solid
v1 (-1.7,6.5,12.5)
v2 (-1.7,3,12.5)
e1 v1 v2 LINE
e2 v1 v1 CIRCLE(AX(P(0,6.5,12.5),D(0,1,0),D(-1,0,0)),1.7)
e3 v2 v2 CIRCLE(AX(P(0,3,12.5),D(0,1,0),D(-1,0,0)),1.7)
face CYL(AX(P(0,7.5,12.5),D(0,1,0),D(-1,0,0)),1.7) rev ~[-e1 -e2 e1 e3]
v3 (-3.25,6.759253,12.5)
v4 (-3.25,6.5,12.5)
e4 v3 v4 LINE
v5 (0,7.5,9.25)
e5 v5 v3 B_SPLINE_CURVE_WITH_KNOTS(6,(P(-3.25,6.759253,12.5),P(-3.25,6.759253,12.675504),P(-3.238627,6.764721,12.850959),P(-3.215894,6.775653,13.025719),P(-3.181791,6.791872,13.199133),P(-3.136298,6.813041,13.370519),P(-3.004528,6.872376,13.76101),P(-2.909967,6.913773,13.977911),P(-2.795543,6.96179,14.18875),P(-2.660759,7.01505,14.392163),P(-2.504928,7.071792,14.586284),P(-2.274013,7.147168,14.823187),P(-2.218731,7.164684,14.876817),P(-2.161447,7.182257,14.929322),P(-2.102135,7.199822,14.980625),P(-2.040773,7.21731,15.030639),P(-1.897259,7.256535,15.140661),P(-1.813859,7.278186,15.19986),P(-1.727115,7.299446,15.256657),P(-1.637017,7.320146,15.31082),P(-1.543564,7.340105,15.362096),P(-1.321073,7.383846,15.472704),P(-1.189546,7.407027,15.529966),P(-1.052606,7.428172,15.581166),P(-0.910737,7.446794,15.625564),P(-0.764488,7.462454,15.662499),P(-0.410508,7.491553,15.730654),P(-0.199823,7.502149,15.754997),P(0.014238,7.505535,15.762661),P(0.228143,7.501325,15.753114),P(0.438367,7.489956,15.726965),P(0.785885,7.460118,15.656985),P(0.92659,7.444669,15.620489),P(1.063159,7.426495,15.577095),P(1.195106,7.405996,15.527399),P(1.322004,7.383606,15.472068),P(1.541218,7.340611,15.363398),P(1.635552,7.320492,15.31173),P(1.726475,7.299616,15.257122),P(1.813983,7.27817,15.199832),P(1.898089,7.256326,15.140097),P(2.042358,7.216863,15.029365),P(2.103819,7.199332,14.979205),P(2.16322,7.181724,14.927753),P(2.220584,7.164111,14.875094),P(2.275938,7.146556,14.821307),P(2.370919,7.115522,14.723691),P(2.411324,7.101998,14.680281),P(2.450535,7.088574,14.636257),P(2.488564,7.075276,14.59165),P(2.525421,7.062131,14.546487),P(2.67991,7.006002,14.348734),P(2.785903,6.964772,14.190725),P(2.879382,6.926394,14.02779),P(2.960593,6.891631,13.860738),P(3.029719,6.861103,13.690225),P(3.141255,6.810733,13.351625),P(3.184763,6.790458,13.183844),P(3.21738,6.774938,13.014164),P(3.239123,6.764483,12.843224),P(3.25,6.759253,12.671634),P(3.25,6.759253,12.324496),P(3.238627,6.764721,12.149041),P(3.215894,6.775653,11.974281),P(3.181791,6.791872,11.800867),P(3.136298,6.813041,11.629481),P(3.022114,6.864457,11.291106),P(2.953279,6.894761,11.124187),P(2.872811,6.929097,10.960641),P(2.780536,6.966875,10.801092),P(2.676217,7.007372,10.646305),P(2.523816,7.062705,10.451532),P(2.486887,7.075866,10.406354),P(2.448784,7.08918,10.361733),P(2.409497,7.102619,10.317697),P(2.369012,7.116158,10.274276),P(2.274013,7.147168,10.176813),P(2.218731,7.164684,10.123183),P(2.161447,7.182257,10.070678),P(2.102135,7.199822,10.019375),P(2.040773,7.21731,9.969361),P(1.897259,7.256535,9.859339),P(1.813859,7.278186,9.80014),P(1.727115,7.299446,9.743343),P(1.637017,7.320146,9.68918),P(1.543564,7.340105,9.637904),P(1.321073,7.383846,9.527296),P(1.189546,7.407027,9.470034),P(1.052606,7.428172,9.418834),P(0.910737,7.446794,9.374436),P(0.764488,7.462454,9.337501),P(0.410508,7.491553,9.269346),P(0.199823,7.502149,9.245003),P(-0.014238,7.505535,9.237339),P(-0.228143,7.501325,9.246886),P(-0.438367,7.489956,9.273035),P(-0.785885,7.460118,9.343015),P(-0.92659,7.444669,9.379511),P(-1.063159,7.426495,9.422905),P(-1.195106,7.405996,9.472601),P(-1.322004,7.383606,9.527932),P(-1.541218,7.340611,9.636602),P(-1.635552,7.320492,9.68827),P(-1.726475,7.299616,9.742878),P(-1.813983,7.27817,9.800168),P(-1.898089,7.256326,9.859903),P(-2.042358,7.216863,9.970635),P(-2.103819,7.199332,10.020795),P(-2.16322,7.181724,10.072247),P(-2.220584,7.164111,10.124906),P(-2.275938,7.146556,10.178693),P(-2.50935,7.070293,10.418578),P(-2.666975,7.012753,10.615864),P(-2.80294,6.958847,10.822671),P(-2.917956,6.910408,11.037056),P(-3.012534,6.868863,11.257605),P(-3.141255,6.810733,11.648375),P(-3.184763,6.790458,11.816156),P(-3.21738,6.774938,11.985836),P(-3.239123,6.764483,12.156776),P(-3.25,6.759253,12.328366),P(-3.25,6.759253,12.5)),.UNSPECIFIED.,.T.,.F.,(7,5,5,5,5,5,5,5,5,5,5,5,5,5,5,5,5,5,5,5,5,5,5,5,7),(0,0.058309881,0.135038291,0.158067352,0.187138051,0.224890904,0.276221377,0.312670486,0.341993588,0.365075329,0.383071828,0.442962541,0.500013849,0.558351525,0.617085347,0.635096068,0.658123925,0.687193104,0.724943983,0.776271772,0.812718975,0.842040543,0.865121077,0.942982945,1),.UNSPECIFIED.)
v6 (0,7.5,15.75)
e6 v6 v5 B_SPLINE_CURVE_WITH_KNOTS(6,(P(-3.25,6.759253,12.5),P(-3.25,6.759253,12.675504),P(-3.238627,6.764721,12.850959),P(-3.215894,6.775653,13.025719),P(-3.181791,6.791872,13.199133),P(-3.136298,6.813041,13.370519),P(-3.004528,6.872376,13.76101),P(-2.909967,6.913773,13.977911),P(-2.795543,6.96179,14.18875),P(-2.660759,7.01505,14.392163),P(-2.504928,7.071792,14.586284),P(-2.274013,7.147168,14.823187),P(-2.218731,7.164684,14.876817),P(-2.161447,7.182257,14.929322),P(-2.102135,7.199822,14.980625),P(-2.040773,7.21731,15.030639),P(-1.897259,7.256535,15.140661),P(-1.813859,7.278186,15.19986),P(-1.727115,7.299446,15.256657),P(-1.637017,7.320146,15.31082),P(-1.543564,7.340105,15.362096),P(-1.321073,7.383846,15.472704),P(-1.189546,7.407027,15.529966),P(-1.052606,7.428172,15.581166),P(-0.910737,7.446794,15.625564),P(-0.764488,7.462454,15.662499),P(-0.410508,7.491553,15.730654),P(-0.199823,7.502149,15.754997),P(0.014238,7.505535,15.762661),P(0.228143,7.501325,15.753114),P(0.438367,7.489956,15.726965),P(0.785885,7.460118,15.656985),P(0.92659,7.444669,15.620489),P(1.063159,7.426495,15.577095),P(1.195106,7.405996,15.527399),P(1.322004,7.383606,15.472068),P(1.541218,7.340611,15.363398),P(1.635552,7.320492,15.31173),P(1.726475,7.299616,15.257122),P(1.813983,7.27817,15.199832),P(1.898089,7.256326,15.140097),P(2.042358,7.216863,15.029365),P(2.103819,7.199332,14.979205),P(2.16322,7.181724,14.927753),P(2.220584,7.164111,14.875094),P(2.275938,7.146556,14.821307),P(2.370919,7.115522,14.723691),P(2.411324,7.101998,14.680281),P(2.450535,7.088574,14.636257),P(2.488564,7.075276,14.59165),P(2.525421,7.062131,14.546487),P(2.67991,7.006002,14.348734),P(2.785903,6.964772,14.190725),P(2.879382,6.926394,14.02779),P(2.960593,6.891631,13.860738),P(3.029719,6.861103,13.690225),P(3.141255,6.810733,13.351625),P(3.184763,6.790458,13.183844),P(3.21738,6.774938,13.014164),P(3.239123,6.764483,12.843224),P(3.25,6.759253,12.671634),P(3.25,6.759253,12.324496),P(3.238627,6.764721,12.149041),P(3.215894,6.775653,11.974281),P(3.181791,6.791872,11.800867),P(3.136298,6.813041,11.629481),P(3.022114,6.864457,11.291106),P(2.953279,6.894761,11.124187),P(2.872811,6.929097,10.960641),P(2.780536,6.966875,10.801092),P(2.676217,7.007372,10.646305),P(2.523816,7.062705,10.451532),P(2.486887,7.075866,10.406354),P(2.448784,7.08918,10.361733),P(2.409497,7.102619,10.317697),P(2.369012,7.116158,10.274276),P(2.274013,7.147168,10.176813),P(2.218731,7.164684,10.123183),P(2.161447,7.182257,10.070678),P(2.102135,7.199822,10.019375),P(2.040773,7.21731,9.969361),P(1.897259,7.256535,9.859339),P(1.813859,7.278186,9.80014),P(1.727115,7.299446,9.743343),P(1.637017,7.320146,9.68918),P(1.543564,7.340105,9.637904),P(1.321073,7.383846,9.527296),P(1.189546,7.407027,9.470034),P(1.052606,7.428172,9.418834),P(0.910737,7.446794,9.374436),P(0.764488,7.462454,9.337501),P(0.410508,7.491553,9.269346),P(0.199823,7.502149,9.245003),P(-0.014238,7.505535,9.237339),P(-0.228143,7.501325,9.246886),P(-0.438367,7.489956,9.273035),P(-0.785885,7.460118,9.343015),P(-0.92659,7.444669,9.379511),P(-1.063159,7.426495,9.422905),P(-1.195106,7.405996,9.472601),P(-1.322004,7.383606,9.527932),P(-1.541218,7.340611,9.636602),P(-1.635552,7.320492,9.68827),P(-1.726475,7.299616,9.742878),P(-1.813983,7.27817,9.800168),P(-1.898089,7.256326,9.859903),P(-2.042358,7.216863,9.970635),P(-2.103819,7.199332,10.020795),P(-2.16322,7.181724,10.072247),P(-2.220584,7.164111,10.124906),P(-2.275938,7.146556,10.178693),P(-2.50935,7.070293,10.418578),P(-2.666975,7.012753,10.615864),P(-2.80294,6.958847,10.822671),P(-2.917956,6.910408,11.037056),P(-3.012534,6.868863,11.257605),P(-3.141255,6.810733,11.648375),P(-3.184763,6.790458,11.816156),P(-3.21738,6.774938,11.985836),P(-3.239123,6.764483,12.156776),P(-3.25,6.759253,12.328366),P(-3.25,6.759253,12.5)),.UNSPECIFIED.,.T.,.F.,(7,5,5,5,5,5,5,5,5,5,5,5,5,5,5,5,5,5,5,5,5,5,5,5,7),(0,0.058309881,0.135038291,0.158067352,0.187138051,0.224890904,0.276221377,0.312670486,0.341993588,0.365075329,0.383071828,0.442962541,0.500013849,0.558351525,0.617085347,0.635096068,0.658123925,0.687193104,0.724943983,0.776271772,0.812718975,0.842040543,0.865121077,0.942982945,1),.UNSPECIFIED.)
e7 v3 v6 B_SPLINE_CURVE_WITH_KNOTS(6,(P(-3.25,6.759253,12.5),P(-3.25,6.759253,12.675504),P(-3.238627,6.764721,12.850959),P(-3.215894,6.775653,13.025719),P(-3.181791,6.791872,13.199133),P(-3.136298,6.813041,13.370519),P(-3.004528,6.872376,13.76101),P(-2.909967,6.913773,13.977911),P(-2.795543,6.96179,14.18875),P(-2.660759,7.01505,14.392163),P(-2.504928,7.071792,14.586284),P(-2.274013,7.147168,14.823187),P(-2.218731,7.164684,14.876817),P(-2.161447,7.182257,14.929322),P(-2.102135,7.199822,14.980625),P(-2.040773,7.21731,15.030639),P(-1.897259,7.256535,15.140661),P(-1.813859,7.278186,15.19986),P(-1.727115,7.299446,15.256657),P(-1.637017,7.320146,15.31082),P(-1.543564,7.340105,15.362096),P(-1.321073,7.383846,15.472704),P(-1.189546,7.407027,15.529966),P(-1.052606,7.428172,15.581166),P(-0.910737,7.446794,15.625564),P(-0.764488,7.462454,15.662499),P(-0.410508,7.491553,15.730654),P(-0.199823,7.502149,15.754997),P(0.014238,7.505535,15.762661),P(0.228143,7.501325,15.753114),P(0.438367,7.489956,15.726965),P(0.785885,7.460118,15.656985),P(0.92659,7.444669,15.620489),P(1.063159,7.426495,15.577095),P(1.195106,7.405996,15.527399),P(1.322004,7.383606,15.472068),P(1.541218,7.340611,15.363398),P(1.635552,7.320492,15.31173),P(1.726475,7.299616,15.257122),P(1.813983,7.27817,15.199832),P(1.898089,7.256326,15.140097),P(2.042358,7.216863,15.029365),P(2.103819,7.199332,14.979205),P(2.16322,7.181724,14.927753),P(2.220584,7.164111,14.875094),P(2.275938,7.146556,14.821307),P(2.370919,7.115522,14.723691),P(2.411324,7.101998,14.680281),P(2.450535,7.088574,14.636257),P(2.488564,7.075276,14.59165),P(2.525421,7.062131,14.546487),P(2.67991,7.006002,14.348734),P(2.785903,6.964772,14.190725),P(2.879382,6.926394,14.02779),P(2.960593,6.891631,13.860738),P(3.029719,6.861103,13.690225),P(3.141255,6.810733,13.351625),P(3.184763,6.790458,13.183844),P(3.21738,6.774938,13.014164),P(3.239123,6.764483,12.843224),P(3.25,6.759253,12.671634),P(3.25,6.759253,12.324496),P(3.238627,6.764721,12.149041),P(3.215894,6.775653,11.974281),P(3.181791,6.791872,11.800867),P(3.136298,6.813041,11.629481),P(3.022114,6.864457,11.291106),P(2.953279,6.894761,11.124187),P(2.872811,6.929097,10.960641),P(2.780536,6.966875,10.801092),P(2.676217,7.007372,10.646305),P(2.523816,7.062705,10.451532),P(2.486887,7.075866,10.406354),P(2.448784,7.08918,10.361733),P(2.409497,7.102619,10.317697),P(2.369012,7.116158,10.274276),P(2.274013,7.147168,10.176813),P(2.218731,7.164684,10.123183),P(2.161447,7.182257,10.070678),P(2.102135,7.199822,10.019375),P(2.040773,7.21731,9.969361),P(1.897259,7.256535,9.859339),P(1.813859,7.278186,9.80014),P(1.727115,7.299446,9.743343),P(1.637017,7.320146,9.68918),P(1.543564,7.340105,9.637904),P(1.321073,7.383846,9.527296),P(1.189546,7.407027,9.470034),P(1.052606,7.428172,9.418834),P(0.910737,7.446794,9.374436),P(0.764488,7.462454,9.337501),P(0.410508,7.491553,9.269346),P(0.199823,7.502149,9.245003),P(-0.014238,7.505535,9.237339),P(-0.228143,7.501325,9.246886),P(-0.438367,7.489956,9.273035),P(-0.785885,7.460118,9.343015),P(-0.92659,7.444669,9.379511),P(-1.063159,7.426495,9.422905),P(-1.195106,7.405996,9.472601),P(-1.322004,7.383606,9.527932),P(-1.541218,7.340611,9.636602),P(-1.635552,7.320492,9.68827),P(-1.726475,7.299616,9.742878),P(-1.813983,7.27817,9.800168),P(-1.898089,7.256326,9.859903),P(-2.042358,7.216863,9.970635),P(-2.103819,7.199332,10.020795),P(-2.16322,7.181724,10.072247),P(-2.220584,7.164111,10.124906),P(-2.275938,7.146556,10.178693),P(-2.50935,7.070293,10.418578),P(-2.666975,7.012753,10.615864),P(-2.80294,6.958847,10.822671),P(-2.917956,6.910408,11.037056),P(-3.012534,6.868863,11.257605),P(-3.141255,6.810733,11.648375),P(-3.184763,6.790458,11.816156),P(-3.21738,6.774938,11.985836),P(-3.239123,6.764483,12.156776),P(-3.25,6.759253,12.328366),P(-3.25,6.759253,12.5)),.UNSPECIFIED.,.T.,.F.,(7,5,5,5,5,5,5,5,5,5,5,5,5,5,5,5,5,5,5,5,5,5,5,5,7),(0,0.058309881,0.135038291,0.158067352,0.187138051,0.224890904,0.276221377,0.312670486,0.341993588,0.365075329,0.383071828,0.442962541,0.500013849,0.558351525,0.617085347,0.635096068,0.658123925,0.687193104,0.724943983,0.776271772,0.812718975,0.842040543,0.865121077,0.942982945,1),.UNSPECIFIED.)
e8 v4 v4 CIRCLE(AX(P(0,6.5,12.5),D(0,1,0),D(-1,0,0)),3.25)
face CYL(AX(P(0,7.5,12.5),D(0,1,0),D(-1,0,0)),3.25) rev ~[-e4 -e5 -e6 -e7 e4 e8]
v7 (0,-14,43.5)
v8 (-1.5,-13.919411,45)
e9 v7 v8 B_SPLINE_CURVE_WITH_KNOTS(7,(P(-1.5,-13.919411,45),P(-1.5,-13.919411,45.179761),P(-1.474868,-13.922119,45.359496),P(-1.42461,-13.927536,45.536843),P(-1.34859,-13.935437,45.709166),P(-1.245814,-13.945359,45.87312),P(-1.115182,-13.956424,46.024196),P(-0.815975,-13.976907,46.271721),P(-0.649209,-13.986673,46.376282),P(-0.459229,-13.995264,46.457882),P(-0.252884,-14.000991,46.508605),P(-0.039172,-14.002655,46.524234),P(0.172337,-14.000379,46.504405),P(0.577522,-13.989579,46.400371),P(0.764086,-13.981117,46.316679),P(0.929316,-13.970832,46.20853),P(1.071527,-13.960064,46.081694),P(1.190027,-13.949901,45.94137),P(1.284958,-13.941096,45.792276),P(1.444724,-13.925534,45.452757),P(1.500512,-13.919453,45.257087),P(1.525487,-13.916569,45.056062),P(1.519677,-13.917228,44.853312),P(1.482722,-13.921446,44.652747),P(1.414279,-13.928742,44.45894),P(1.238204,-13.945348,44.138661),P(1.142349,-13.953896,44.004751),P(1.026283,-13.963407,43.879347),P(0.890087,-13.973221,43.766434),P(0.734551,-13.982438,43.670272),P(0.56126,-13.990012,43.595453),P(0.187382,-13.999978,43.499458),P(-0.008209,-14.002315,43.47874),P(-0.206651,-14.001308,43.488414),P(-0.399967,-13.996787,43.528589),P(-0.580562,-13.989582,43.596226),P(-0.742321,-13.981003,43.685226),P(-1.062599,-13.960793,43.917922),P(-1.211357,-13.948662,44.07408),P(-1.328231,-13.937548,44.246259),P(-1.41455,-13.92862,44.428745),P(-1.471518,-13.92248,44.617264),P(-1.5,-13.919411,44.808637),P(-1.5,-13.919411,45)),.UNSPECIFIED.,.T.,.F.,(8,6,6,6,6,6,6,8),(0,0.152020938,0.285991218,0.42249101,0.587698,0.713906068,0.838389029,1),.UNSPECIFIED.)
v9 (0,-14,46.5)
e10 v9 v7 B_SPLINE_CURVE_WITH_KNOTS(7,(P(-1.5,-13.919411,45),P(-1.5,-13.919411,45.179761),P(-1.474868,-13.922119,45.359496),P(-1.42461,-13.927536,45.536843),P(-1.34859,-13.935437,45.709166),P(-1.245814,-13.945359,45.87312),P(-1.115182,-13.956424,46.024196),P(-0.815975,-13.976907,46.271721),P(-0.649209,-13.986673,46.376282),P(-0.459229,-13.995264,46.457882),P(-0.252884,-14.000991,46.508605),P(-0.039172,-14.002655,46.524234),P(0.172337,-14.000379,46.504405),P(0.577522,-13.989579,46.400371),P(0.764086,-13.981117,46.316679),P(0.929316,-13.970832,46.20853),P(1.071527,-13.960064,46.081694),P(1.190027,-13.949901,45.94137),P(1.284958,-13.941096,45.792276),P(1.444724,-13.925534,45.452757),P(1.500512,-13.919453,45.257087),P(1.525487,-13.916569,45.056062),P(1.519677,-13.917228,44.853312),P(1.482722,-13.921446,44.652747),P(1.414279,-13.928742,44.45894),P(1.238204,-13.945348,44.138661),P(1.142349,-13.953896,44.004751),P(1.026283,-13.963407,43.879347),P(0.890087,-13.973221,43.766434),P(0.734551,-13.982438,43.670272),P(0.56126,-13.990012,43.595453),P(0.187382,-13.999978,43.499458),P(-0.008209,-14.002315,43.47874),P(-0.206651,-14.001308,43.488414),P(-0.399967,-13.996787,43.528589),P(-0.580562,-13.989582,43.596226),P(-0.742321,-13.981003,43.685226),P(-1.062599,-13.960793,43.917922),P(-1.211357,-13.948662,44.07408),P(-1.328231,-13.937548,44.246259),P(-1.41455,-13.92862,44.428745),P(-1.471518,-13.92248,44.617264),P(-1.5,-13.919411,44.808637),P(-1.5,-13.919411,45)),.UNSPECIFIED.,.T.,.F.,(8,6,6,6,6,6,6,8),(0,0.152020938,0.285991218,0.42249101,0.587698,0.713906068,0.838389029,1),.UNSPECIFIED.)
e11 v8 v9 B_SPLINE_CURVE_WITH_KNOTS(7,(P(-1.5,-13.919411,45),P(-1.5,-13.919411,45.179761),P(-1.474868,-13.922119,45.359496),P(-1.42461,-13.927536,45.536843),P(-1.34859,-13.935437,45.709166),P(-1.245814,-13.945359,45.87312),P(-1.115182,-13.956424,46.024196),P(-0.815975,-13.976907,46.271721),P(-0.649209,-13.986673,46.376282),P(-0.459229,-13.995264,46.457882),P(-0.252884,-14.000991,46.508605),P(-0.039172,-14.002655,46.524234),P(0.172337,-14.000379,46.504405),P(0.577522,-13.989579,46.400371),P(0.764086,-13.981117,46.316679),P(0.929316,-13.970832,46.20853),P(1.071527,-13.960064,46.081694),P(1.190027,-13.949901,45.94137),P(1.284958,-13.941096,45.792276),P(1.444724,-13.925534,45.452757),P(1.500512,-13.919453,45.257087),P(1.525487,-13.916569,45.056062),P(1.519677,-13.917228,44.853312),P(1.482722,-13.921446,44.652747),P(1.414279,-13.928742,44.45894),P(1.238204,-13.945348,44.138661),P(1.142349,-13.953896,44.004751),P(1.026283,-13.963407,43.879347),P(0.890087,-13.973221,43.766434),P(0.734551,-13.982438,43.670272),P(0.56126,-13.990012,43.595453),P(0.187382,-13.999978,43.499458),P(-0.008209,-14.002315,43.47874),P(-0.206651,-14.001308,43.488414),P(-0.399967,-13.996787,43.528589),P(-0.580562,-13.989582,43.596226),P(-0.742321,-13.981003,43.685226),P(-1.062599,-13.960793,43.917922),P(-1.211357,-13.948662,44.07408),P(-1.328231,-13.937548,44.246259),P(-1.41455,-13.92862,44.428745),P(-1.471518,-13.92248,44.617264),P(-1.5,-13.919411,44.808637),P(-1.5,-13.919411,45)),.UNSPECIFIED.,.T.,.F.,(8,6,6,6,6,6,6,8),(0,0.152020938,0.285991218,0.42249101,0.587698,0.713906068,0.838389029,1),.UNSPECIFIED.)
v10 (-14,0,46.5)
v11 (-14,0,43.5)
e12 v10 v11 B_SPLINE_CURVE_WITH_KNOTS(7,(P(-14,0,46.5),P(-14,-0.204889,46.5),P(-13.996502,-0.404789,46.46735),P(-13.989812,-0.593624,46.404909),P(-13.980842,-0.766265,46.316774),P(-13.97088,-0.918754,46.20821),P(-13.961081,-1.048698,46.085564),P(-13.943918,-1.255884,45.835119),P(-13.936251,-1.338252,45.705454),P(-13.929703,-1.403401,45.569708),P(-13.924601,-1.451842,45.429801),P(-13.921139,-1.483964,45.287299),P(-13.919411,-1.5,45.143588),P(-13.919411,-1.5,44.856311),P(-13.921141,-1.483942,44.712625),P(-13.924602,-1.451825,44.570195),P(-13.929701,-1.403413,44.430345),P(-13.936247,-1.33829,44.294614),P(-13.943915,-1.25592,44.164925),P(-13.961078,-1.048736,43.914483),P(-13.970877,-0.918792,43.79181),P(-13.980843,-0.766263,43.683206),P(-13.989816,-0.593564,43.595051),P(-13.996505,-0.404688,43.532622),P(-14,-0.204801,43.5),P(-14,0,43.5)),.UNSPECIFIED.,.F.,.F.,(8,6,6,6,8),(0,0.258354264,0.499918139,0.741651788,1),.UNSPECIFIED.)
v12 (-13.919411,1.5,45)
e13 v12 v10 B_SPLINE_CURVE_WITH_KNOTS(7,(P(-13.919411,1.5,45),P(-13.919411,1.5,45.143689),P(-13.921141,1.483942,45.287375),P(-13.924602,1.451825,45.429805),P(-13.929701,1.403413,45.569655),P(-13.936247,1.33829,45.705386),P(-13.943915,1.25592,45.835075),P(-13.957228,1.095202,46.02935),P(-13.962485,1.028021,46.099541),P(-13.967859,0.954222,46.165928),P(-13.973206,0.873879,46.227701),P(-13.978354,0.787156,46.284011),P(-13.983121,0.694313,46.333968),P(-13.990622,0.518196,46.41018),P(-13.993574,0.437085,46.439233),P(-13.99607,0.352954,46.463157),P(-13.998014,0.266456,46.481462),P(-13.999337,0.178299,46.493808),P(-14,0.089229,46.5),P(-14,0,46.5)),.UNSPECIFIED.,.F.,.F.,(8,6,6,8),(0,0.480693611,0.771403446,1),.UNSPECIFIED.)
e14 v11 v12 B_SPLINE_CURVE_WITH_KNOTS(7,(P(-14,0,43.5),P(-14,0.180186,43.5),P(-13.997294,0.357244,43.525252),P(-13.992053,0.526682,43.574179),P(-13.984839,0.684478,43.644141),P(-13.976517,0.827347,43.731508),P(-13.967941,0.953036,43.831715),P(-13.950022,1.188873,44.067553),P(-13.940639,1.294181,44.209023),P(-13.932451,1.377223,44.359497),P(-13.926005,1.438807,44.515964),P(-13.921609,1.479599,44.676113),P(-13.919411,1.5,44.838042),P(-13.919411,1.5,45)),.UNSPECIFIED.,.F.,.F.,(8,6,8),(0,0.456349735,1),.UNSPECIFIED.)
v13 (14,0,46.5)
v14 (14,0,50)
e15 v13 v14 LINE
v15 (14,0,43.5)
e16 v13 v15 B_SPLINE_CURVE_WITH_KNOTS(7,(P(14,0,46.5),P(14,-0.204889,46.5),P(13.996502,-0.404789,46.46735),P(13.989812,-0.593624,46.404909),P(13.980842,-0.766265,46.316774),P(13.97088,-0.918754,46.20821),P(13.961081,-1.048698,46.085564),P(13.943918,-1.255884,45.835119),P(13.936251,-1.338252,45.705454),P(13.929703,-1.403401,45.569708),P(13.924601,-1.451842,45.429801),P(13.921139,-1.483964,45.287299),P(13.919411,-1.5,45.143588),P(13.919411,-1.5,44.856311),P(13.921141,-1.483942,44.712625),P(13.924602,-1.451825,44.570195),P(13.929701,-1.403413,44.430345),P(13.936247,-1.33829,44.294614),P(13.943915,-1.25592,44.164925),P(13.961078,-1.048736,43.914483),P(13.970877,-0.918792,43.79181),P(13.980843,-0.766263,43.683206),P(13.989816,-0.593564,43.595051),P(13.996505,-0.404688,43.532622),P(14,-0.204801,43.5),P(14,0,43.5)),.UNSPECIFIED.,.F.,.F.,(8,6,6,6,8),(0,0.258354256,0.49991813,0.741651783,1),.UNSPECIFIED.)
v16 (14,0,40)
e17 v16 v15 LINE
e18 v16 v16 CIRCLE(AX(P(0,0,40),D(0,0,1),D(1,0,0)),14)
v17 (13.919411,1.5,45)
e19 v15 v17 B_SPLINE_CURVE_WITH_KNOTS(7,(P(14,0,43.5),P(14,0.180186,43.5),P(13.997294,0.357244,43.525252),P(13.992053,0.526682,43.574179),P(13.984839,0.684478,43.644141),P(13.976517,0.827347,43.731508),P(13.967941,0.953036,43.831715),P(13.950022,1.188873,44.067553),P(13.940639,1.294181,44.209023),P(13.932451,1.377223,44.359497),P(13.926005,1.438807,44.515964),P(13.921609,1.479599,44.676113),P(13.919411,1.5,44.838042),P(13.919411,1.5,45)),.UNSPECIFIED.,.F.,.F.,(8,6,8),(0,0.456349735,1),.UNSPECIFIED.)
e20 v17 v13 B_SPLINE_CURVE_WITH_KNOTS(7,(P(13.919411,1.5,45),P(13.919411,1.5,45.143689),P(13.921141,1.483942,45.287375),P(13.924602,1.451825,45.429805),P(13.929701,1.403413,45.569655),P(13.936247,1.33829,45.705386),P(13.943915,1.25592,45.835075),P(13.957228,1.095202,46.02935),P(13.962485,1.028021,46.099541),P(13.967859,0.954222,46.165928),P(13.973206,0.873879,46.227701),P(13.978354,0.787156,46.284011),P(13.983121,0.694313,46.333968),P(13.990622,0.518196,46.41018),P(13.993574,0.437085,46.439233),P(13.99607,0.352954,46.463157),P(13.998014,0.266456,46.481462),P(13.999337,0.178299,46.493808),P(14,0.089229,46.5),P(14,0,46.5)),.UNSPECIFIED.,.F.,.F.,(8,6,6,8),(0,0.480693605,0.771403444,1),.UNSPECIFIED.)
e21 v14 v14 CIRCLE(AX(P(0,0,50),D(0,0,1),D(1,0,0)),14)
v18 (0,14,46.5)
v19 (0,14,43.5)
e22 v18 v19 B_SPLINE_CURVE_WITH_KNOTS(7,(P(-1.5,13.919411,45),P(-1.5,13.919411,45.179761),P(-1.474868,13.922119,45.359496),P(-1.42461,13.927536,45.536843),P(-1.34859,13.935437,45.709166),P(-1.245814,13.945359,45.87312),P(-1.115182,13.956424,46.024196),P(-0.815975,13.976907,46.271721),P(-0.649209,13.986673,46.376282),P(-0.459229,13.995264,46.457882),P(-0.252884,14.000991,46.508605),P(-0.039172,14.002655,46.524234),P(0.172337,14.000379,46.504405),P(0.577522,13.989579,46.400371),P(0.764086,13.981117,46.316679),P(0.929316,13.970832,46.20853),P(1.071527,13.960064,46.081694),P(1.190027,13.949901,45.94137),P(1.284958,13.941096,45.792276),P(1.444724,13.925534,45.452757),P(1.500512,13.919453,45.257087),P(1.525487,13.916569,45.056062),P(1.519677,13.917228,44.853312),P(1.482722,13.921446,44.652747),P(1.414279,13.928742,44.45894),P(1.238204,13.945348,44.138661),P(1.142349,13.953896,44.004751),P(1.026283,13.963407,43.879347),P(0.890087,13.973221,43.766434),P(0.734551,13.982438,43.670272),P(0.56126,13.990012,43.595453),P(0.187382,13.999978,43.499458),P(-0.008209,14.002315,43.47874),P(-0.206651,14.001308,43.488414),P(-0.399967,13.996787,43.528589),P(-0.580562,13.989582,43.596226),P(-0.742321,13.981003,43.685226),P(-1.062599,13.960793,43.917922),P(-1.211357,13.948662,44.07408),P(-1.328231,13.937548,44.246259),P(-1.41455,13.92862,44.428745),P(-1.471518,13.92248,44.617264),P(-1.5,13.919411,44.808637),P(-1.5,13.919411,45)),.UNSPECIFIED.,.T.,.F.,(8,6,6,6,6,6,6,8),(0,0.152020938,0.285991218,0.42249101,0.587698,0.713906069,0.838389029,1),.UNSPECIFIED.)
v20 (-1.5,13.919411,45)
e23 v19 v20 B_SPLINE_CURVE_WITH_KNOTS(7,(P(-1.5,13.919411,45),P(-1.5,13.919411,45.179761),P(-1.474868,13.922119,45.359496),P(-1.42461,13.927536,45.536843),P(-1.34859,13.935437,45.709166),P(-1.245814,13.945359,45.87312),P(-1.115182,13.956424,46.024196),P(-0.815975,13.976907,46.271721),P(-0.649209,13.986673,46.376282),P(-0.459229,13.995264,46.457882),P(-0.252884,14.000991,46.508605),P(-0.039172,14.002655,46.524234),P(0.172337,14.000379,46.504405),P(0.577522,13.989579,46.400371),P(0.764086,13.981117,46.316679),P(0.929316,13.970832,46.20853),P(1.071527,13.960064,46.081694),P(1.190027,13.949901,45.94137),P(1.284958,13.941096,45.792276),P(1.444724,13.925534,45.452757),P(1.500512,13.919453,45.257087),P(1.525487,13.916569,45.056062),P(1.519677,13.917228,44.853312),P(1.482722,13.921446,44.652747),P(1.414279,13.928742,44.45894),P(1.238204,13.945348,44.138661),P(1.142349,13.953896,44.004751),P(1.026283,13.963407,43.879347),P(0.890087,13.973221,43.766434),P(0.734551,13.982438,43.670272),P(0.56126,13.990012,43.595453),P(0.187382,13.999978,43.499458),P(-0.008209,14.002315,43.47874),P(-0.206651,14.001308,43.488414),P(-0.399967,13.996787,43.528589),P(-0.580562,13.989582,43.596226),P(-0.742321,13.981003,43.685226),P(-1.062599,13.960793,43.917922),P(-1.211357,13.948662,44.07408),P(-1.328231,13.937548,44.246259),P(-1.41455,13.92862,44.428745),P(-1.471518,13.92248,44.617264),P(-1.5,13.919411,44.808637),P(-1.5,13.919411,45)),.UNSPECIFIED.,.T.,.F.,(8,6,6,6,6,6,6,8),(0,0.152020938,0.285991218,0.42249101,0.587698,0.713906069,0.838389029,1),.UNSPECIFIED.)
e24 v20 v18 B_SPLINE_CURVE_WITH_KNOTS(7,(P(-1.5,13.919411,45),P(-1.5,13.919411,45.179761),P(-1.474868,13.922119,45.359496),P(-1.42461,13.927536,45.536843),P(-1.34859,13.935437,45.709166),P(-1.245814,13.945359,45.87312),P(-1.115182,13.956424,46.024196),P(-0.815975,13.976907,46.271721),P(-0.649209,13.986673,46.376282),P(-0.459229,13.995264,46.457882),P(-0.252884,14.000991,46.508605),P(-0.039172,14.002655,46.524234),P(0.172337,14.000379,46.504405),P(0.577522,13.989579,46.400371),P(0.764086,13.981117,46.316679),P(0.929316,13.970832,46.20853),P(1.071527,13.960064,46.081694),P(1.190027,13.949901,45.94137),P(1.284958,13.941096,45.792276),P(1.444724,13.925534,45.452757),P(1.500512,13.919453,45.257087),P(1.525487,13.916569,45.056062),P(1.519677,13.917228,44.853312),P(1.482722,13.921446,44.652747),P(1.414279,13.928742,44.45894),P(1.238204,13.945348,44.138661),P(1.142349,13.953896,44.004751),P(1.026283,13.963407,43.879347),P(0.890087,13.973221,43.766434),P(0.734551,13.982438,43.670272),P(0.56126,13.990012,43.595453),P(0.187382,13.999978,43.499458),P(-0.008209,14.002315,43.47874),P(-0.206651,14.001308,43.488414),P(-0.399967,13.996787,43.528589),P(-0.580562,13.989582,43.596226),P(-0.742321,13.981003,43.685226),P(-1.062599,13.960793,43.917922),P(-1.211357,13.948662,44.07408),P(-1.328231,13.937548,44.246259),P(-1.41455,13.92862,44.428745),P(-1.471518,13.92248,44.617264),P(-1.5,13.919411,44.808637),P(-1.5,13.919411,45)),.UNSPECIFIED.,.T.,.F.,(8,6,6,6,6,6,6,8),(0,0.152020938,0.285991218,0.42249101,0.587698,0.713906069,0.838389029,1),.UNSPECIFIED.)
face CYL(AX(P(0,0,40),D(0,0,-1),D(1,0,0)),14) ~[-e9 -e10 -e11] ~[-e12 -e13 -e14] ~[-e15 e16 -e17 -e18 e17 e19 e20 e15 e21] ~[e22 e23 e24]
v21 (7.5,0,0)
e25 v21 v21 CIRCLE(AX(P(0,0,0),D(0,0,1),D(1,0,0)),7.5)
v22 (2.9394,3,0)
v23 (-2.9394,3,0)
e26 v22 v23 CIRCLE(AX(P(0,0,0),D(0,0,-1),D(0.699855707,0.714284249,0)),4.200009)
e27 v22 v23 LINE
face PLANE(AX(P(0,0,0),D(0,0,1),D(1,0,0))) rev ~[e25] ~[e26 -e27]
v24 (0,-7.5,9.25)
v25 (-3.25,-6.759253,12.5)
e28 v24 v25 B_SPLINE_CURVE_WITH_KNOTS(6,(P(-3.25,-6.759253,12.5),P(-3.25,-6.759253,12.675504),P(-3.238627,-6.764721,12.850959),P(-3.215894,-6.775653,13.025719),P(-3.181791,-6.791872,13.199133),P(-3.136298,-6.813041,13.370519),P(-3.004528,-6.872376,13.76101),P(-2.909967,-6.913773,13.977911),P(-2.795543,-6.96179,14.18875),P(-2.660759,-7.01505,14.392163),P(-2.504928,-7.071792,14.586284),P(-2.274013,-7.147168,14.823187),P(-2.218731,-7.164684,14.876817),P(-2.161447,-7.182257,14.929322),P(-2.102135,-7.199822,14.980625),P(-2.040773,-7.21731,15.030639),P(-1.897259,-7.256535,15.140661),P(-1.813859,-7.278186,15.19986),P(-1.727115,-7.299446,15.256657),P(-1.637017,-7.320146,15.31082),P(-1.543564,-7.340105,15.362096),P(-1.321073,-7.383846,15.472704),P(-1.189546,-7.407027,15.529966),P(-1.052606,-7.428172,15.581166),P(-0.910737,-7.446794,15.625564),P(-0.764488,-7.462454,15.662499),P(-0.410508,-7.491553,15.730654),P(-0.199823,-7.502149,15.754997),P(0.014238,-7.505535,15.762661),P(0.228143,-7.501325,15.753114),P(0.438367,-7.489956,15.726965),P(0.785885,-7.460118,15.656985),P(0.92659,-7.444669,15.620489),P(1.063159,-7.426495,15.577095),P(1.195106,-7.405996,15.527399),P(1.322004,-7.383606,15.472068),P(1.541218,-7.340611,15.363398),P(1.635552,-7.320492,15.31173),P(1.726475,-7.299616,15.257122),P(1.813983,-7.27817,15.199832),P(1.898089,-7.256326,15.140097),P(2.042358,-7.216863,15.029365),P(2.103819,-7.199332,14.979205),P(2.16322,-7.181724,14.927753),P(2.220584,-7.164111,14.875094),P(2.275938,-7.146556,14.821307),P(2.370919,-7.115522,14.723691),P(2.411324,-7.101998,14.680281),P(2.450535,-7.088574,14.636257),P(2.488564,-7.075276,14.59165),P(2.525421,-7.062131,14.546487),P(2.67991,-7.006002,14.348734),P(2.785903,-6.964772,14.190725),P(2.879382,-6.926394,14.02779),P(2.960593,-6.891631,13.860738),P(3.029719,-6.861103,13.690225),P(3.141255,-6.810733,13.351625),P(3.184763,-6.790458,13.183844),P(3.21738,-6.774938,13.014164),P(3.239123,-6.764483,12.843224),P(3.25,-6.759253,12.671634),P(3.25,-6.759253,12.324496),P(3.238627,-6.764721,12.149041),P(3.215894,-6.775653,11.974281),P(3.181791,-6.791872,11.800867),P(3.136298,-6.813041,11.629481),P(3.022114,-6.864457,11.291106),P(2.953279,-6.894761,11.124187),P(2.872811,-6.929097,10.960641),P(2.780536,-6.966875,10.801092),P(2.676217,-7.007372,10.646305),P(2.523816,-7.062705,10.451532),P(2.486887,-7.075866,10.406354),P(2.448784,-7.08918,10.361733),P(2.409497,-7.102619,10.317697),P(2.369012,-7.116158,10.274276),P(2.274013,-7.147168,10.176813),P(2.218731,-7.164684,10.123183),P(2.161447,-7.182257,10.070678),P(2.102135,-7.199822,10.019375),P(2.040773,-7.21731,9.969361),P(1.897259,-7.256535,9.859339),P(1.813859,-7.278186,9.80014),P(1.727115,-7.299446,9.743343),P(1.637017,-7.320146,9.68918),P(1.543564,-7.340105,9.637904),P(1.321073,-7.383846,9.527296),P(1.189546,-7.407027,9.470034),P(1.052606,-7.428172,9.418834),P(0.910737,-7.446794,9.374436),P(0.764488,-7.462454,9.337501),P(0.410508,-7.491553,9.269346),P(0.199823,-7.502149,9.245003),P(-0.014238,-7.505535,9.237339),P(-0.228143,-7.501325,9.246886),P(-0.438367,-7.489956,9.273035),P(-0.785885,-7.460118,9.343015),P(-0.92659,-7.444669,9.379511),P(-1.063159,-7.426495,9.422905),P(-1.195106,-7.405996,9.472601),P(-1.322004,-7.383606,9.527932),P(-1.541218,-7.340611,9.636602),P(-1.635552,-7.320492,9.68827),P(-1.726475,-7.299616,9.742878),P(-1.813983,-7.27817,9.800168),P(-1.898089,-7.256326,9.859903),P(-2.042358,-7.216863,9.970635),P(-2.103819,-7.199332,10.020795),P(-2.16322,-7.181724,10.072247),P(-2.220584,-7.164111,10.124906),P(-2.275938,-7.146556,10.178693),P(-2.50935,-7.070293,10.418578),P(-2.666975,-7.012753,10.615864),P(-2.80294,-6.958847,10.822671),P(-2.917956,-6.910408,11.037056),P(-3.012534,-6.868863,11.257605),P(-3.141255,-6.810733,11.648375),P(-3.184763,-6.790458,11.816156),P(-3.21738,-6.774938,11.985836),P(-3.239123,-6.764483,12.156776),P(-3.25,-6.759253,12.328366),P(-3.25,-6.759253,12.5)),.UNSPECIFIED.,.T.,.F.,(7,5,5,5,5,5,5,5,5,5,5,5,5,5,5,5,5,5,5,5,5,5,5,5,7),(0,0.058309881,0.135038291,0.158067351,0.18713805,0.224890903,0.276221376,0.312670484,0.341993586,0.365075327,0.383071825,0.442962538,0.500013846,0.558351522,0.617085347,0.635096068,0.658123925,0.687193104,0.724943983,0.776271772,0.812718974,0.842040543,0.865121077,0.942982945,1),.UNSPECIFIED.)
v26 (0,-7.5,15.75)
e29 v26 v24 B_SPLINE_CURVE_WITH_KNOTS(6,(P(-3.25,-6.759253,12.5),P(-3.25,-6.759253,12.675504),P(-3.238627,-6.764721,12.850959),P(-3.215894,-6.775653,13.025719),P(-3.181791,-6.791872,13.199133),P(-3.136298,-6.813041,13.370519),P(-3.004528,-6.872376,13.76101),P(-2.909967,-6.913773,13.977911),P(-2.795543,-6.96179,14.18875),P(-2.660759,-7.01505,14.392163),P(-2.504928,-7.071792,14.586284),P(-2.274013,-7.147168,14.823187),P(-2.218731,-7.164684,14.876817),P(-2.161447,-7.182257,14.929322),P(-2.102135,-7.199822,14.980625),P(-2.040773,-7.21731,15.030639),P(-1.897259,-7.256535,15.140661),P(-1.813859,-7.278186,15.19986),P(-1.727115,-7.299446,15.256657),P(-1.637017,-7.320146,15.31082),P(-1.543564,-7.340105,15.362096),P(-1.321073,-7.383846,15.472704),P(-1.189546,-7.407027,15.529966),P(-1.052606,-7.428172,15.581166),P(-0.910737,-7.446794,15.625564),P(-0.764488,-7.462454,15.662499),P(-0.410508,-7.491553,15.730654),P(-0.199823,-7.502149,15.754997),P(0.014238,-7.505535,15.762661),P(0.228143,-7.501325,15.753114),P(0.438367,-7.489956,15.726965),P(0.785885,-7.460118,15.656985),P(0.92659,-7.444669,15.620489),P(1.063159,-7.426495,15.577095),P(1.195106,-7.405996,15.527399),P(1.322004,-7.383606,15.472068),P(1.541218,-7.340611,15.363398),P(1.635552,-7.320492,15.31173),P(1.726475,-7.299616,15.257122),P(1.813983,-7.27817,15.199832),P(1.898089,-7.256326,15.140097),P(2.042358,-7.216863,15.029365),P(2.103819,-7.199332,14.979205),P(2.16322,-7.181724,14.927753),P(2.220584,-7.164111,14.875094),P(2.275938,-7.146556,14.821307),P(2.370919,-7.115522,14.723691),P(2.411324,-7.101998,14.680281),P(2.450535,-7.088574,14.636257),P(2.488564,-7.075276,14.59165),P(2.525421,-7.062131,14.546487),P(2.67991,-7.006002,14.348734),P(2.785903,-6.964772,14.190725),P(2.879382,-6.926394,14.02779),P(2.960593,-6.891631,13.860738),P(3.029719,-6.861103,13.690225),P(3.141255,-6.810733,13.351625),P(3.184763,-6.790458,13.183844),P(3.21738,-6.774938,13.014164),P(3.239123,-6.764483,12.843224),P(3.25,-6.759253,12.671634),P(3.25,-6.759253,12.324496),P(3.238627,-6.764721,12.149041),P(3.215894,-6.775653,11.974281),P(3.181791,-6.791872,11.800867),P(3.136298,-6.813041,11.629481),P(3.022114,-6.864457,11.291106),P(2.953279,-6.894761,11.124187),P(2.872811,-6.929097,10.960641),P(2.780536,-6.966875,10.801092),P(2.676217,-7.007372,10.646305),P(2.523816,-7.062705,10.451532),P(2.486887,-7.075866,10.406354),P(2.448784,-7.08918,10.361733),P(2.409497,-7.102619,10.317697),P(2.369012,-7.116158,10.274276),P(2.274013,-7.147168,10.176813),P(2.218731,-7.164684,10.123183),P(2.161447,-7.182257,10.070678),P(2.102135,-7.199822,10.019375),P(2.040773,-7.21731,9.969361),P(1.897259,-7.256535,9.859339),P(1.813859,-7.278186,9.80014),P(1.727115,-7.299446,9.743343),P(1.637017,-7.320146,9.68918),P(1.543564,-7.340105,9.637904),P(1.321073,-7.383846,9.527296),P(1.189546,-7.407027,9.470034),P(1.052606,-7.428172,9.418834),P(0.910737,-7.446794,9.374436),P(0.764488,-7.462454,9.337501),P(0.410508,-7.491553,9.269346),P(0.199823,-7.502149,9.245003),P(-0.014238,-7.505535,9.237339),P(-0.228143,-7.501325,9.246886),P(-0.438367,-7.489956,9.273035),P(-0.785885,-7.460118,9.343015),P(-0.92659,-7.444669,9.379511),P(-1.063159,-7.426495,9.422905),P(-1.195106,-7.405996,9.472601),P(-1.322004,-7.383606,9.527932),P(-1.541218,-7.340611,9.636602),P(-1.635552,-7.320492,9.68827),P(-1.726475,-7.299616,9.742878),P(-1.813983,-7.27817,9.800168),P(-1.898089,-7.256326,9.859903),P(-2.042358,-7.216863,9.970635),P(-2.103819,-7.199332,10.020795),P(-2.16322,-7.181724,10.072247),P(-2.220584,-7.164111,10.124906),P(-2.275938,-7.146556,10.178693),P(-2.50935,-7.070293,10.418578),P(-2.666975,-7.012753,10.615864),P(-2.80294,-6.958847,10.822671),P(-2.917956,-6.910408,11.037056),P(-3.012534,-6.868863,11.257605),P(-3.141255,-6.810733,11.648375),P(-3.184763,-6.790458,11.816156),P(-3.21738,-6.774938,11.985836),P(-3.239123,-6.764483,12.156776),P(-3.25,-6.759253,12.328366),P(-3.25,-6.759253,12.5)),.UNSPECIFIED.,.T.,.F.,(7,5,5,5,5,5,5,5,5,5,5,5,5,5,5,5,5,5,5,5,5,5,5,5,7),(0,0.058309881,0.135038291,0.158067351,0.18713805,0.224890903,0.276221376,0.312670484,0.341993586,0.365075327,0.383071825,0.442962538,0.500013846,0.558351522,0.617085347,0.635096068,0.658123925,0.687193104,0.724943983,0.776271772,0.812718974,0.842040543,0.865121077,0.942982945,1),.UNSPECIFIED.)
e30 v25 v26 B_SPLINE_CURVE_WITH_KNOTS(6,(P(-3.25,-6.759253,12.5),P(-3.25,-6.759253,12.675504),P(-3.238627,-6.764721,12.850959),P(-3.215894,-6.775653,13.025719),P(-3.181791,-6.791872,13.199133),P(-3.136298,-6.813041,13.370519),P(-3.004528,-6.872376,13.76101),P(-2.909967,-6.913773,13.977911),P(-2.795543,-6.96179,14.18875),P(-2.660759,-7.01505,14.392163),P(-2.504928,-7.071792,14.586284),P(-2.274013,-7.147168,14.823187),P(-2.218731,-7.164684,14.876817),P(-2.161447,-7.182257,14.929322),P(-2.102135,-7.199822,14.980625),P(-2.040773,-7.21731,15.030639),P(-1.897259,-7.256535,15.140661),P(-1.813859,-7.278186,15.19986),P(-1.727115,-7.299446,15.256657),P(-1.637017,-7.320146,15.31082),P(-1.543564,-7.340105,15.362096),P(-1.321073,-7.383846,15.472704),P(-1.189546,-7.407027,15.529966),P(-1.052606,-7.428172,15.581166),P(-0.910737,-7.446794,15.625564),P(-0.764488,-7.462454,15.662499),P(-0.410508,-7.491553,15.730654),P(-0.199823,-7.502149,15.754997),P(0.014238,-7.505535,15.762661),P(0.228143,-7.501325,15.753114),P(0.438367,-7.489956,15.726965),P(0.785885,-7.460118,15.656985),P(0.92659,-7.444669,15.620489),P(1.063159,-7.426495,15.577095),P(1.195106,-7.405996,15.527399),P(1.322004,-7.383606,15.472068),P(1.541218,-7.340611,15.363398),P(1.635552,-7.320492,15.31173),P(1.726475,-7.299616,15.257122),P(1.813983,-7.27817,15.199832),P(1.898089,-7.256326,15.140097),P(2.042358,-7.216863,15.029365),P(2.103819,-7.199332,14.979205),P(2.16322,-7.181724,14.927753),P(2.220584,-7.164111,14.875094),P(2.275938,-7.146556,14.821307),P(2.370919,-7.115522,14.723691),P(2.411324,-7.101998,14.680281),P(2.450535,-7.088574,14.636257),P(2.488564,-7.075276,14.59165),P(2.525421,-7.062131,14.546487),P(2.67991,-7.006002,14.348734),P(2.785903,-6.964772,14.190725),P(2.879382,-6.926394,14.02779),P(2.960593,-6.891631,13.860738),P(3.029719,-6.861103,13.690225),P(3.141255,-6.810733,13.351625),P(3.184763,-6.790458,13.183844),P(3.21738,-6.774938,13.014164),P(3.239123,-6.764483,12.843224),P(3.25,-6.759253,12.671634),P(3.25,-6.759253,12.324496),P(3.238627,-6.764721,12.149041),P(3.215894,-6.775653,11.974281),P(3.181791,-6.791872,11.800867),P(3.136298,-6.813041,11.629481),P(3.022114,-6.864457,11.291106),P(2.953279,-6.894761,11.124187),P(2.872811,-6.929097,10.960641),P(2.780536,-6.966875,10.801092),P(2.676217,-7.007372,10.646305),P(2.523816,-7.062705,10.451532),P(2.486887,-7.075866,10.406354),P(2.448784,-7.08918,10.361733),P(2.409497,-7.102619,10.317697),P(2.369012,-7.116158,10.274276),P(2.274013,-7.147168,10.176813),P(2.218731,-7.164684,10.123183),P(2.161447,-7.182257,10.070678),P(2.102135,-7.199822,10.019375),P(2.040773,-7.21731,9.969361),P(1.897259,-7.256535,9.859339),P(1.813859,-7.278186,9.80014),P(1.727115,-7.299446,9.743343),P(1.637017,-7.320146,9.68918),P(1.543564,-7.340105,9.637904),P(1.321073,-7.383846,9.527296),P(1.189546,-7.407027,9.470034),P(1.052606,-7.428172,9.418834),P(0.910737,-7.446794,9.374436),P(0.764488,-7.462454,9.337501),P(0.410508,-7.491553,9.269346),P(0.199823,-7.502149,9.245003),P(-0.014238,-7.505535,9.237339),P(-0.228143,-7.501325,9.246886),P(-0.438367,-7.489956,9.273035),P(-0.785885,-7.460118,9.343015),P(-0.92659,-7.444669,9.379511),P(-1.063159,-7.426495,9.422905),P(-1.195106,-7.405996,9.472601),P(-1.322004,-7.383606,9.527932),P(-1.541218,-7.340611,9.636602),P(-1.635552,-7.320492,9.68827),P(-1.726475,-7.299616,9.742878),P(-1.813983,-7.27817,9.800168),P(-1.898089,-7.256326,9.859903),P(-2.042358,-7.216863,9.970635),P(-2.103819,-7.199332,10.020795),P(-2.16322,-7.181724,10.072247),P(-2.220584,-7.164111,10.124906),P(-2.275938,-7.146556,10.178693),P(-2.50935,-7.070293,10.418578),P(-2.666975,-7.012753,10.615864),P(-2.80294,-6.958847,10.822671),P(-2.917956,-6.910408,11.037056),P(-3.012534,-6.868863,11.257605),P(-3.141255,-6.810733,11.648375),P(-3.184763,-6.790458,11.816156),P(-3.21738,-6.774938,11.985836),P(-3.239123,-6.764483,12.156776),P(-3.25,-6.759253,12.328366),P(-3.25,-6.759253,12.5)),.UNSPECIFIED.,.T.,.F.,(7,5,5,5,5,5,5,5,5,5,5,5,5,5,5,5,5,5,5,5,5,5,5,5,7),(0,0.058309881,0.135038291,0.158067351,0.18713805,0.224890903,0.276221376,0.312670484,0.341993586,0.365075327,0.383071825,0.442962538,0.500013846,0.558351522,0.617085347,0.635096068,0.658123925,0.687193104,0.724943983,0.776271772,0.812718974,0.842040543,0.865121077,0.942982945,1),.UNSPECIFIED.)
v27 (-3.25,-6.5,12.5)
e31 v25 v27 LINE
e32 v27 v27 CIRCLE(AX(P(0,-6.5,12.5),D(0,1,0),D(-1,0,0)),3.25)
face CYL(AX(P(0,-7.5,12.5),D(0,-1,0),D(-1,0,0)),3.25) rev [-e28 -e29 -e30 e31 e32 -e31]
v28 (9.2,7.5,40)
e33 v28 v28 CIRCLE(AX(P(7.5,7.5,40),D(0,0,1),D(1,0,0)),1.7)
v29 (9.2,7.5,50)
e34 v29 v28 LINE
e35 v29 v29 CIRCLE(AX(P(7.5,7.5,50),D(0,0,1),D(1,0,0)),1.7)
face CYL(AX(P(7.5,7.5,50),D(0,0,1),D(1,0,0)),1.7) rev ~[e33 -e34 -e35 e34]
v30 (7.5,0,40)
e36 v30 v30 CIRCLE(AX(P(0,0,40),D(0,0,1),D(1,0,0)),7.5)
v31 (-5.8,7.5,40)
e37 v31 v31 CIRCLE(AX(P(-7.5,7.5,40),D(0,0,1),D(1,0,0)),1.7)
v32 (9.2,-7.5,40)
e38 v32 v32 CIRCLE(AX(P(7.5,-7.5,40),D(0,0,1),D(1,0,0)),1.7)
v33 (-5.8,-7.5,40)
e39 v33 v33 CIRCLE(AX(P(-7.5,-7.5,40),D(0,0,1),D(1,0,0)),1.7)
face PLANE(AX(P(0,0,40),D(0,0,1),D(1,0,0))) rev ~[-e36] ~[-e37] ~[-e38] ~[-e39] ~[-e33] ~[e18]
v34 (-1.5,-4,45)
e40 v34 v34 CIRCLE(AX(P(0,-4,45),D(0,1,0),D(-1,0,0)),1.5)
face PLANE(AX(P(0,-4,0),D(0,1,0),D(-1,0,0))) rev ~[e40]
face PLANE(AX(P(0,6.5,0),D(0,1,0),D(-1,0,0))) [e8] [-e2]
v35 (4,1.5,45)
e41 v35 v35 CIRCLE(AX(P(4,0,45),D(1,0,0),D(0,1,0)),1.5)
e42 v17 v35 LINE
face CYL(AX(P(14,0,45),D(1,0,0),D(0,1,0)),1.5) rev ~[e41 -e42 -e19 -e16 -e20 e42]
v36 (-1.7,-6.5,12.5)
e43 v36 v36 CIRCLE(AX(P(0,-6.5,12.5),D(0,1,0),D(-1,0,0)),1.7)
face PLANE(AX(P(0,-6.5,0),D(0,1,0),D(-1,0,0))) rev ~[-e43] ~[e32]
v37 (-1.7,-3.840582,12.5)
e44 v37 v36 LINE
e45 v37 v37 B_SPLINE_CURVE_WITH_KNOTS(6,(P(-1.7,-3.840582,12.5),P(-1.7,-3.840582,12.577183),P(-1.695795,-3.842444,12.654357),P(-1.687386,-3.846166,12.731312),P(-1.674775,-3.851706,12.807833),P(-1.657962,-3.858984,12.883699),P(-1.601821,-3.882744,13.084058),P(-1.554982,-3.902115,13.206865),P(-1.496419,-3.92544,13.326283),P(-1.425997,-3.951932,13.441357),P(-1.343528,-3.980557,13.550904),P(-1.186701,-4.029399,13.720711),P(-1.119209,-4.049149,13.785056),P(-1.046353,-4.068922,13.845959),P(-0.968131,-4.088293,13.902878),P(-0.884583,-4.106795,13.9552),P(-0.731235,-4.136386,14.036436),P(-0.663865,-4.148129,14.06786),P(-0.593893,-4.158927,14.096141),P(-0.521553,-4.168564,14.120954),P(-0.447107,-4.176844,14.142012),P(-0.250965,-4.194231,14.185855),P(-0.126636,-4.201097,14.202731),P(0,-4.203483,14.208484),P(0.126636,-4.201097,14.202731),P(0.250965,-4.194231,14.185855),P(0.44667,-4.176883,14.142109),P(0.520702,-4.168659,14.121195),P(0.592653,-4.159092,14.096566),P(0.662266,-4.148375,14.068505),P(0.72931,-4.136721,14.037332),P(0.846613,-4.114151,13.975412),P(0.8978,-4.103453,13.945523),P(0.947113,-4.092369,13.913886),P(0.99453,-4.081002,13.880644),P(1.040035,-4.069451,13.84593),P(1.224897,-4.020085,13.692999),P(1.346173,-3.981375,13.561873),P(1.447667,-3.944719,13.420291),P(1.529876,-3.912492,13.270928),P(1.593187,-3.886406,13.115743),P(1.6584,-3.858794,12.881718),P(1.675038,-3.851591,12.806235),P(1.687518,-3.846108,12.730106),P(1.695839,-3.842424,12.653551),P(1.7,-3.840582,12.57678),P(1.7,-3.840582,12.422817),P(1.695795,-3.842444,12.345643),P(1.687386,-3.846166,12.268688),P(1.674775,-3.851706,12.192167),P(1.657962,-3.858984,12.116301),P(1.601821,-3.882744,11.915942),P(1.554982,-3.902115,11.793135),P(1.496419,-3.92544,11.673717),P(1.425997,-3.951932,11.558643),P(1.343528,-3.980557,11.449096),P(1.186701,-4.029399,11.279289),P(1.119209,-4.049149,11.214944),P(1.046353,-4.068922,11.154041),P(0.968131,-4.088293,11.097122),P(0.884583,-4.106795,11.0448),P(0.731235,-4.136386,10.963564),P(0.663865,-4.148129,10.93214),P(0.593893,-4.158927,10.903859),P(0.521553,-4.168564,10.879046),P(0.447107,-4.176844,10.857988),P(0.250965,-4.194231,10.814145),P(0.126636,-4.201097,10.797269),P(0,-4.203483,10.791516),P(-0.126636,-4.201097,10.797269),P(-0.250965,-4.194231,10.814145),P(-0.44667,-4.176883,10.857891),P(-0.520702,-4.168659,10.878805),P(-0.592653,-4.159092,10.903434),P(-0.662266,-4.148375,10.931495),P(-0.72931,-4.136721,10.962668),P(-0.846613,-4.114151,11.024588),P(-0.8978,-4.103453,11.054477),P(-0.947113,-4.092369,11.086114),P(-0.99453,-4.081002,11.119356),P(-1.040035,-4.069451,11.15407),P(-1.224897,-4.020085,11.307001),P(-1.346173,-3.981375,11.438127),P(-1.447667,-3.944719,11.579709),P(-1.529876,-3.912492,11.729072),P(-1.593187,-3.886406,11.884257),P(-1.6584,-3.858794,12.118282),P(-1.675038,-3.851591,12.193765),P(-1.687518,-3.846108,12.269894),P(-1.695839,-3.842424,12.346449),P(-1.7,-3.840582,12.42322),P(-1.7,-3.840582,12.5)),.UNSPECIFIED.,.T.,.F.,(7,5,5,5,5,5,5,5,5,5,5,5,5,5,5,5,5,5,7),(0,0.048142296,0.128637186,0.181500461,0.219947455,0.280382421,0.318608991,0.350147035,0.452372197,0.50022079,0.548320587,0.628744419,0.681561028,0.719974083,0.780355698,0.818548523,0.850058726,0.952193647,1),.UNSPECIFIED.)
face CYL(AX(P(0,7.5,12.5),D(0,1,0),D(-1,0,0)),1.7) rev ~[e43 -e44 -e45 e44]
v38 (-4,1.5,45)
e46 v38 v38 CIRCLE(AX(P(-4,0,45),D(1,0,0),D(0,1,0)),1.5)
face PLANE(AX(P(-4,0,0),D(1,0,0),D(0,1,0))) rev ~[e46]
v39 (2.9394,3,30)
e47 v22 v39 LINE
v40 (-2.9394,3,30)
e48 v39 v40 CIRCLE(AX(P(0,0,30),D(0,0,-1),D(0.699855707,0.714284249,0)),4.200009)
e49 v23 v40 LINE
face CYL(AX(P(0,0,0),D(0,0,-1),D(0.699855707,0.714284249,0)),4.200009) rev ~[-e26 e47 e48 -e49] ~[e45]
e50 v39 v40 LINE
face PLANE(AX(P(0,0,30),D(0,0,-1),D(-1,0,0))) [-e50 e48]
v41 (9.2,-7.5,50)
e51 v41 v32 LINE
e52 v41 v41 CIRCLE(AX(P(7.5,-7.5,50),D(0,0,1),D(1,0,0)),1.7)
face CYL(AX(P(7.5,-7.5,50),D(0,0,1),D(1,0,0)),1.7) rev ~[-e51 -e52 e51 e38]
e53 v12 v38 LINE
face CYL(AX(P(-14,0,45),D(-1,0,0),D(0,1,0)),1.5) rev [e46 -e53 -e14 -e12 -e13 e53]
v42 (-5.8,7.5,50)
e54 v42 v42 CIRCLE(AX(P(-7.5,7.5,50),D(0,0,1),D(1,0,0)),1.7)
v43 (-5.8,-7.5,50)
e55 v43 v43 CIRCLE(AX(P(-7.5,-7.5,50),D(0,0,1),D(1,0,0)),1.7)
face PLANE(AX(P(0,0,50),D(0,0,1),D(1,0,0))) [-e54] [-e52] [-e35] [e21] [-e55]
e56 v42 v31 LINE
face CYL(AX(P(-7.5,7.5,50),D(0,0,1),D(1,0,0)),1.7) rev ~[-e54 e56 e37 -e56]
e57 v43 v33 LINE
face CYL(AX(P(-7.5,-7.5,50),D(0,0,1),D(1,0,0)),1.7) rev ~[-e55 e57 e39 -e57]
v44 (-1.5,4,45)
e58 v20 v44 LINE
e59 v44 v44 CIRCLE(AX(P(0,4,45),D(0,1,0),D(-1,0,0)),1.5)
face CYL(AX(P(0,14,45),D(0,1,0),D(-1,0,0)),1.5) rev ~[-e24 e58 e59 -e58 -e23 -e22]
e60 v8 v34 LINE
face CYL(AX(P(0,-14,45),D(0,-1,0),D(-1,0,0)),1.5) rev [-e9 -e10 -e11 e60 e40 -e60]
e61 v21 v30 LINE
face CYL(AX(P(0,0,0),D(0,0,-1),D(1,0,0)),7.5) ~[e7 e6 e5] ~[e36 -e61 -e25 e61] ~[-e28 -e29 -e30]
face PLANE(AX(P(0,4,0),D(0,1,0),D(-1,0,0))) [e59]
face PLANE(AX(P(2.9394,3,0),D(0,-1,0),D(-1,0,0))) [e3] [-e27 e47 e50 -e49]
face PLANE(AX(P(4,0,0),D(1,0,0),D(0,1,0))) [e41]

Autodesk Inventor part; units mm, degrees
sketch "スケッチ1" plane through (0, 0, 0) normal (0, 0, 1) x (1, 0, 0)
  circle A0 centre (0, 0) radius 7.5
  dimension "d0" = 15
extrude "押し出し1" add sketch "スケッチ1" along normal blind 40
sketch "スケッチ2" plane through (0, 0, 0) normal (0, 0, -1) x (-1, 0, 0)
  arc A0 (-2.9394, 3) -> (2.9394, 3) centre (0, 0) ccw
  line L0 (-2.9394, 3) -> (2.9394, 3)
  point P0 (-3.1305, 2.8)
  dimension "d3" = 4.2
  dimension "d4" = 3
extrude "押し出し2" cut sketch "スケッチ2" against normal blind 30
ref_plane "作業平面1" through (14, 0, 0) normal (1, 0, 0) x (0, 1, 0)
ref_plane "作業平面2" through (-14, 0, 0) normal (1, 0, 0) x (0, 1, 0)
ref_plane "作業平面3" through (0, 7.5, 0) normal (0, 1, 0) x (-1, 0, 0)
ref_plane "作業平面4" through (0, -7.5, 0) normal (0, 1, 0) x (-1, 0, 0)
sketch "スケッチ7" plane through (0, 7.5, 0) normal (0, 1, 0) x (-1, 0, 0)
  circle A0 centre (0, 12.5) radius 1.7
  point P0 (0, 0)
  dimension "d35" = 3.4
  dimension "d36" = 12.5
extrude "押し出し7" cut sketch "スケッチ7" against normal through all
sketch "スケッチ8" plane through (0, 7.5, 0) normal (0, 1, 0) x (-1, 0, 0)
  circle A0 centre (0, 12.5) radius 3.25
  point P0 (0, 0)
  dimension "d39" = 6.5
  dimension "d40" = 12.5
sketch "スケッチ9" plane through (0, -7.5, 0) normal (0, 1, 0) x (-1, 0, 0)
  circle A0 centre (0, 12.5) radius 3.25
  point P0 (0, 0)
  dimension "d41" = 6.5
  dimension "d42" = 12.5
extrude "押し出し8" cut sketch "スケッチ8" against normal blind 1
extrude "押し出し9" cut sketch "スケッチ9" along normal blind 1
sketch "スケッチ10" plane through (0, 0, 40) normal (0, 0, 1) x (1, 0, 0)
  circle A0 centre (0, 0) radius 14
  dimension "d47" = 28
extrude "押し出し10" add sketch "スケッチ10" along normal blind 10
ref_plane "作業平面5" through (0, 14, 0) normal (0, 1, 0) x (-1, 0, 0)
ref_plane "作業平面6" through (0, -14, 0) normal (0, 1, 0) x (-1, 0, 0)
sketch "スケッチ11" plane through (0, 14, 0) normal (0, 1, 0) x (-1, 0, 0)
  circle A0 centre (0, 45) radius 1.5
  line L0 (14, 50) -> (-14, 50) projected
  point P0 (0, 0)
  dimension "d52" = 3
  dimension "d53" = 5
sketch "スケッチ12" plane through (0, -14, 0) normal (0, 1, 0) x (-1, 0, 0)
  circle A0 centre (0, 45) radius 1.5
  line L0 (14, 50) -> (-14, 50) projected
  point P0 (0, 0)
  dimension "d54" = 3
  dimension "d55" = 5
sketch "スケッチ13" plane through (-14, 0, 0) normal (1, 0, 0) x (0, 1, 0)
  circle A0 centre (0, 45) radius 1.5
  line L0 (14, 50) -> (-14, 50) projected
  point P0 (0, 0)
  dimension "d56" = 3
  dimension "d57" = 5
sketch "スケッチ14" plane through (14, 0, 0) normal (1, 0, 0) x (0, 1, 0)
  circle A0 centre (0, 45) radius 1.5
  line L0 (14, 50) -> (-14, 50) projected
  point P0 (0, 0)
  dimension "d58" = 3
  dimension "d59" = 5
extrude "押し出し11" cut sketch "スケッチ11" against normal blind 10
extrude "押し出し12" cut sketch "スケッチ12" along normal blind 10
extrude "押し出し13" cut sketch "スケッチ14" against normal blind 10
extrude "押し出し14" cut sketch "スケッチ13" along normal blind 10
thread "ねじ5" size "M3x0.5" class "6H" standard "ANSI Metric M Profile" full length
thread "ねじ6" size "M3x0.5" class "6H" standard "ANSI Metric M Profile" full length
thread "ねじ7" size "M3x0.5" class "6H" standard "ANSI Metric M Profile" full length
thread "ねじ8" size "M3x0.5" class "6H" standard "ANSI Metric M Profile" full length
sketch "スケッチ15" plane through (0, 0, 50) normal (0, 0, 1) x (1, 0, 0)
  circle A0 centre (7.5, 7.5) radius 1.7
  circle A1 centre (-7.5, 7.5) radius 1.7
  circle A2 centre (-7.5, -7.5) radius 1.7
  circle A3 centre (7.5, -7.5) radius 1.7
  point P0 (0, 0)
  dimension "d76" = 3.4
  dimension "d77" = 7.5
  dimension "d78" = 7.5
  dimension "d81" = 360
extrude "押し出し15" cut sketch "スケッチ15" against normal through all
properties part number "rotary_transfer_shaft_5_1" material "ステンレス鋼"
